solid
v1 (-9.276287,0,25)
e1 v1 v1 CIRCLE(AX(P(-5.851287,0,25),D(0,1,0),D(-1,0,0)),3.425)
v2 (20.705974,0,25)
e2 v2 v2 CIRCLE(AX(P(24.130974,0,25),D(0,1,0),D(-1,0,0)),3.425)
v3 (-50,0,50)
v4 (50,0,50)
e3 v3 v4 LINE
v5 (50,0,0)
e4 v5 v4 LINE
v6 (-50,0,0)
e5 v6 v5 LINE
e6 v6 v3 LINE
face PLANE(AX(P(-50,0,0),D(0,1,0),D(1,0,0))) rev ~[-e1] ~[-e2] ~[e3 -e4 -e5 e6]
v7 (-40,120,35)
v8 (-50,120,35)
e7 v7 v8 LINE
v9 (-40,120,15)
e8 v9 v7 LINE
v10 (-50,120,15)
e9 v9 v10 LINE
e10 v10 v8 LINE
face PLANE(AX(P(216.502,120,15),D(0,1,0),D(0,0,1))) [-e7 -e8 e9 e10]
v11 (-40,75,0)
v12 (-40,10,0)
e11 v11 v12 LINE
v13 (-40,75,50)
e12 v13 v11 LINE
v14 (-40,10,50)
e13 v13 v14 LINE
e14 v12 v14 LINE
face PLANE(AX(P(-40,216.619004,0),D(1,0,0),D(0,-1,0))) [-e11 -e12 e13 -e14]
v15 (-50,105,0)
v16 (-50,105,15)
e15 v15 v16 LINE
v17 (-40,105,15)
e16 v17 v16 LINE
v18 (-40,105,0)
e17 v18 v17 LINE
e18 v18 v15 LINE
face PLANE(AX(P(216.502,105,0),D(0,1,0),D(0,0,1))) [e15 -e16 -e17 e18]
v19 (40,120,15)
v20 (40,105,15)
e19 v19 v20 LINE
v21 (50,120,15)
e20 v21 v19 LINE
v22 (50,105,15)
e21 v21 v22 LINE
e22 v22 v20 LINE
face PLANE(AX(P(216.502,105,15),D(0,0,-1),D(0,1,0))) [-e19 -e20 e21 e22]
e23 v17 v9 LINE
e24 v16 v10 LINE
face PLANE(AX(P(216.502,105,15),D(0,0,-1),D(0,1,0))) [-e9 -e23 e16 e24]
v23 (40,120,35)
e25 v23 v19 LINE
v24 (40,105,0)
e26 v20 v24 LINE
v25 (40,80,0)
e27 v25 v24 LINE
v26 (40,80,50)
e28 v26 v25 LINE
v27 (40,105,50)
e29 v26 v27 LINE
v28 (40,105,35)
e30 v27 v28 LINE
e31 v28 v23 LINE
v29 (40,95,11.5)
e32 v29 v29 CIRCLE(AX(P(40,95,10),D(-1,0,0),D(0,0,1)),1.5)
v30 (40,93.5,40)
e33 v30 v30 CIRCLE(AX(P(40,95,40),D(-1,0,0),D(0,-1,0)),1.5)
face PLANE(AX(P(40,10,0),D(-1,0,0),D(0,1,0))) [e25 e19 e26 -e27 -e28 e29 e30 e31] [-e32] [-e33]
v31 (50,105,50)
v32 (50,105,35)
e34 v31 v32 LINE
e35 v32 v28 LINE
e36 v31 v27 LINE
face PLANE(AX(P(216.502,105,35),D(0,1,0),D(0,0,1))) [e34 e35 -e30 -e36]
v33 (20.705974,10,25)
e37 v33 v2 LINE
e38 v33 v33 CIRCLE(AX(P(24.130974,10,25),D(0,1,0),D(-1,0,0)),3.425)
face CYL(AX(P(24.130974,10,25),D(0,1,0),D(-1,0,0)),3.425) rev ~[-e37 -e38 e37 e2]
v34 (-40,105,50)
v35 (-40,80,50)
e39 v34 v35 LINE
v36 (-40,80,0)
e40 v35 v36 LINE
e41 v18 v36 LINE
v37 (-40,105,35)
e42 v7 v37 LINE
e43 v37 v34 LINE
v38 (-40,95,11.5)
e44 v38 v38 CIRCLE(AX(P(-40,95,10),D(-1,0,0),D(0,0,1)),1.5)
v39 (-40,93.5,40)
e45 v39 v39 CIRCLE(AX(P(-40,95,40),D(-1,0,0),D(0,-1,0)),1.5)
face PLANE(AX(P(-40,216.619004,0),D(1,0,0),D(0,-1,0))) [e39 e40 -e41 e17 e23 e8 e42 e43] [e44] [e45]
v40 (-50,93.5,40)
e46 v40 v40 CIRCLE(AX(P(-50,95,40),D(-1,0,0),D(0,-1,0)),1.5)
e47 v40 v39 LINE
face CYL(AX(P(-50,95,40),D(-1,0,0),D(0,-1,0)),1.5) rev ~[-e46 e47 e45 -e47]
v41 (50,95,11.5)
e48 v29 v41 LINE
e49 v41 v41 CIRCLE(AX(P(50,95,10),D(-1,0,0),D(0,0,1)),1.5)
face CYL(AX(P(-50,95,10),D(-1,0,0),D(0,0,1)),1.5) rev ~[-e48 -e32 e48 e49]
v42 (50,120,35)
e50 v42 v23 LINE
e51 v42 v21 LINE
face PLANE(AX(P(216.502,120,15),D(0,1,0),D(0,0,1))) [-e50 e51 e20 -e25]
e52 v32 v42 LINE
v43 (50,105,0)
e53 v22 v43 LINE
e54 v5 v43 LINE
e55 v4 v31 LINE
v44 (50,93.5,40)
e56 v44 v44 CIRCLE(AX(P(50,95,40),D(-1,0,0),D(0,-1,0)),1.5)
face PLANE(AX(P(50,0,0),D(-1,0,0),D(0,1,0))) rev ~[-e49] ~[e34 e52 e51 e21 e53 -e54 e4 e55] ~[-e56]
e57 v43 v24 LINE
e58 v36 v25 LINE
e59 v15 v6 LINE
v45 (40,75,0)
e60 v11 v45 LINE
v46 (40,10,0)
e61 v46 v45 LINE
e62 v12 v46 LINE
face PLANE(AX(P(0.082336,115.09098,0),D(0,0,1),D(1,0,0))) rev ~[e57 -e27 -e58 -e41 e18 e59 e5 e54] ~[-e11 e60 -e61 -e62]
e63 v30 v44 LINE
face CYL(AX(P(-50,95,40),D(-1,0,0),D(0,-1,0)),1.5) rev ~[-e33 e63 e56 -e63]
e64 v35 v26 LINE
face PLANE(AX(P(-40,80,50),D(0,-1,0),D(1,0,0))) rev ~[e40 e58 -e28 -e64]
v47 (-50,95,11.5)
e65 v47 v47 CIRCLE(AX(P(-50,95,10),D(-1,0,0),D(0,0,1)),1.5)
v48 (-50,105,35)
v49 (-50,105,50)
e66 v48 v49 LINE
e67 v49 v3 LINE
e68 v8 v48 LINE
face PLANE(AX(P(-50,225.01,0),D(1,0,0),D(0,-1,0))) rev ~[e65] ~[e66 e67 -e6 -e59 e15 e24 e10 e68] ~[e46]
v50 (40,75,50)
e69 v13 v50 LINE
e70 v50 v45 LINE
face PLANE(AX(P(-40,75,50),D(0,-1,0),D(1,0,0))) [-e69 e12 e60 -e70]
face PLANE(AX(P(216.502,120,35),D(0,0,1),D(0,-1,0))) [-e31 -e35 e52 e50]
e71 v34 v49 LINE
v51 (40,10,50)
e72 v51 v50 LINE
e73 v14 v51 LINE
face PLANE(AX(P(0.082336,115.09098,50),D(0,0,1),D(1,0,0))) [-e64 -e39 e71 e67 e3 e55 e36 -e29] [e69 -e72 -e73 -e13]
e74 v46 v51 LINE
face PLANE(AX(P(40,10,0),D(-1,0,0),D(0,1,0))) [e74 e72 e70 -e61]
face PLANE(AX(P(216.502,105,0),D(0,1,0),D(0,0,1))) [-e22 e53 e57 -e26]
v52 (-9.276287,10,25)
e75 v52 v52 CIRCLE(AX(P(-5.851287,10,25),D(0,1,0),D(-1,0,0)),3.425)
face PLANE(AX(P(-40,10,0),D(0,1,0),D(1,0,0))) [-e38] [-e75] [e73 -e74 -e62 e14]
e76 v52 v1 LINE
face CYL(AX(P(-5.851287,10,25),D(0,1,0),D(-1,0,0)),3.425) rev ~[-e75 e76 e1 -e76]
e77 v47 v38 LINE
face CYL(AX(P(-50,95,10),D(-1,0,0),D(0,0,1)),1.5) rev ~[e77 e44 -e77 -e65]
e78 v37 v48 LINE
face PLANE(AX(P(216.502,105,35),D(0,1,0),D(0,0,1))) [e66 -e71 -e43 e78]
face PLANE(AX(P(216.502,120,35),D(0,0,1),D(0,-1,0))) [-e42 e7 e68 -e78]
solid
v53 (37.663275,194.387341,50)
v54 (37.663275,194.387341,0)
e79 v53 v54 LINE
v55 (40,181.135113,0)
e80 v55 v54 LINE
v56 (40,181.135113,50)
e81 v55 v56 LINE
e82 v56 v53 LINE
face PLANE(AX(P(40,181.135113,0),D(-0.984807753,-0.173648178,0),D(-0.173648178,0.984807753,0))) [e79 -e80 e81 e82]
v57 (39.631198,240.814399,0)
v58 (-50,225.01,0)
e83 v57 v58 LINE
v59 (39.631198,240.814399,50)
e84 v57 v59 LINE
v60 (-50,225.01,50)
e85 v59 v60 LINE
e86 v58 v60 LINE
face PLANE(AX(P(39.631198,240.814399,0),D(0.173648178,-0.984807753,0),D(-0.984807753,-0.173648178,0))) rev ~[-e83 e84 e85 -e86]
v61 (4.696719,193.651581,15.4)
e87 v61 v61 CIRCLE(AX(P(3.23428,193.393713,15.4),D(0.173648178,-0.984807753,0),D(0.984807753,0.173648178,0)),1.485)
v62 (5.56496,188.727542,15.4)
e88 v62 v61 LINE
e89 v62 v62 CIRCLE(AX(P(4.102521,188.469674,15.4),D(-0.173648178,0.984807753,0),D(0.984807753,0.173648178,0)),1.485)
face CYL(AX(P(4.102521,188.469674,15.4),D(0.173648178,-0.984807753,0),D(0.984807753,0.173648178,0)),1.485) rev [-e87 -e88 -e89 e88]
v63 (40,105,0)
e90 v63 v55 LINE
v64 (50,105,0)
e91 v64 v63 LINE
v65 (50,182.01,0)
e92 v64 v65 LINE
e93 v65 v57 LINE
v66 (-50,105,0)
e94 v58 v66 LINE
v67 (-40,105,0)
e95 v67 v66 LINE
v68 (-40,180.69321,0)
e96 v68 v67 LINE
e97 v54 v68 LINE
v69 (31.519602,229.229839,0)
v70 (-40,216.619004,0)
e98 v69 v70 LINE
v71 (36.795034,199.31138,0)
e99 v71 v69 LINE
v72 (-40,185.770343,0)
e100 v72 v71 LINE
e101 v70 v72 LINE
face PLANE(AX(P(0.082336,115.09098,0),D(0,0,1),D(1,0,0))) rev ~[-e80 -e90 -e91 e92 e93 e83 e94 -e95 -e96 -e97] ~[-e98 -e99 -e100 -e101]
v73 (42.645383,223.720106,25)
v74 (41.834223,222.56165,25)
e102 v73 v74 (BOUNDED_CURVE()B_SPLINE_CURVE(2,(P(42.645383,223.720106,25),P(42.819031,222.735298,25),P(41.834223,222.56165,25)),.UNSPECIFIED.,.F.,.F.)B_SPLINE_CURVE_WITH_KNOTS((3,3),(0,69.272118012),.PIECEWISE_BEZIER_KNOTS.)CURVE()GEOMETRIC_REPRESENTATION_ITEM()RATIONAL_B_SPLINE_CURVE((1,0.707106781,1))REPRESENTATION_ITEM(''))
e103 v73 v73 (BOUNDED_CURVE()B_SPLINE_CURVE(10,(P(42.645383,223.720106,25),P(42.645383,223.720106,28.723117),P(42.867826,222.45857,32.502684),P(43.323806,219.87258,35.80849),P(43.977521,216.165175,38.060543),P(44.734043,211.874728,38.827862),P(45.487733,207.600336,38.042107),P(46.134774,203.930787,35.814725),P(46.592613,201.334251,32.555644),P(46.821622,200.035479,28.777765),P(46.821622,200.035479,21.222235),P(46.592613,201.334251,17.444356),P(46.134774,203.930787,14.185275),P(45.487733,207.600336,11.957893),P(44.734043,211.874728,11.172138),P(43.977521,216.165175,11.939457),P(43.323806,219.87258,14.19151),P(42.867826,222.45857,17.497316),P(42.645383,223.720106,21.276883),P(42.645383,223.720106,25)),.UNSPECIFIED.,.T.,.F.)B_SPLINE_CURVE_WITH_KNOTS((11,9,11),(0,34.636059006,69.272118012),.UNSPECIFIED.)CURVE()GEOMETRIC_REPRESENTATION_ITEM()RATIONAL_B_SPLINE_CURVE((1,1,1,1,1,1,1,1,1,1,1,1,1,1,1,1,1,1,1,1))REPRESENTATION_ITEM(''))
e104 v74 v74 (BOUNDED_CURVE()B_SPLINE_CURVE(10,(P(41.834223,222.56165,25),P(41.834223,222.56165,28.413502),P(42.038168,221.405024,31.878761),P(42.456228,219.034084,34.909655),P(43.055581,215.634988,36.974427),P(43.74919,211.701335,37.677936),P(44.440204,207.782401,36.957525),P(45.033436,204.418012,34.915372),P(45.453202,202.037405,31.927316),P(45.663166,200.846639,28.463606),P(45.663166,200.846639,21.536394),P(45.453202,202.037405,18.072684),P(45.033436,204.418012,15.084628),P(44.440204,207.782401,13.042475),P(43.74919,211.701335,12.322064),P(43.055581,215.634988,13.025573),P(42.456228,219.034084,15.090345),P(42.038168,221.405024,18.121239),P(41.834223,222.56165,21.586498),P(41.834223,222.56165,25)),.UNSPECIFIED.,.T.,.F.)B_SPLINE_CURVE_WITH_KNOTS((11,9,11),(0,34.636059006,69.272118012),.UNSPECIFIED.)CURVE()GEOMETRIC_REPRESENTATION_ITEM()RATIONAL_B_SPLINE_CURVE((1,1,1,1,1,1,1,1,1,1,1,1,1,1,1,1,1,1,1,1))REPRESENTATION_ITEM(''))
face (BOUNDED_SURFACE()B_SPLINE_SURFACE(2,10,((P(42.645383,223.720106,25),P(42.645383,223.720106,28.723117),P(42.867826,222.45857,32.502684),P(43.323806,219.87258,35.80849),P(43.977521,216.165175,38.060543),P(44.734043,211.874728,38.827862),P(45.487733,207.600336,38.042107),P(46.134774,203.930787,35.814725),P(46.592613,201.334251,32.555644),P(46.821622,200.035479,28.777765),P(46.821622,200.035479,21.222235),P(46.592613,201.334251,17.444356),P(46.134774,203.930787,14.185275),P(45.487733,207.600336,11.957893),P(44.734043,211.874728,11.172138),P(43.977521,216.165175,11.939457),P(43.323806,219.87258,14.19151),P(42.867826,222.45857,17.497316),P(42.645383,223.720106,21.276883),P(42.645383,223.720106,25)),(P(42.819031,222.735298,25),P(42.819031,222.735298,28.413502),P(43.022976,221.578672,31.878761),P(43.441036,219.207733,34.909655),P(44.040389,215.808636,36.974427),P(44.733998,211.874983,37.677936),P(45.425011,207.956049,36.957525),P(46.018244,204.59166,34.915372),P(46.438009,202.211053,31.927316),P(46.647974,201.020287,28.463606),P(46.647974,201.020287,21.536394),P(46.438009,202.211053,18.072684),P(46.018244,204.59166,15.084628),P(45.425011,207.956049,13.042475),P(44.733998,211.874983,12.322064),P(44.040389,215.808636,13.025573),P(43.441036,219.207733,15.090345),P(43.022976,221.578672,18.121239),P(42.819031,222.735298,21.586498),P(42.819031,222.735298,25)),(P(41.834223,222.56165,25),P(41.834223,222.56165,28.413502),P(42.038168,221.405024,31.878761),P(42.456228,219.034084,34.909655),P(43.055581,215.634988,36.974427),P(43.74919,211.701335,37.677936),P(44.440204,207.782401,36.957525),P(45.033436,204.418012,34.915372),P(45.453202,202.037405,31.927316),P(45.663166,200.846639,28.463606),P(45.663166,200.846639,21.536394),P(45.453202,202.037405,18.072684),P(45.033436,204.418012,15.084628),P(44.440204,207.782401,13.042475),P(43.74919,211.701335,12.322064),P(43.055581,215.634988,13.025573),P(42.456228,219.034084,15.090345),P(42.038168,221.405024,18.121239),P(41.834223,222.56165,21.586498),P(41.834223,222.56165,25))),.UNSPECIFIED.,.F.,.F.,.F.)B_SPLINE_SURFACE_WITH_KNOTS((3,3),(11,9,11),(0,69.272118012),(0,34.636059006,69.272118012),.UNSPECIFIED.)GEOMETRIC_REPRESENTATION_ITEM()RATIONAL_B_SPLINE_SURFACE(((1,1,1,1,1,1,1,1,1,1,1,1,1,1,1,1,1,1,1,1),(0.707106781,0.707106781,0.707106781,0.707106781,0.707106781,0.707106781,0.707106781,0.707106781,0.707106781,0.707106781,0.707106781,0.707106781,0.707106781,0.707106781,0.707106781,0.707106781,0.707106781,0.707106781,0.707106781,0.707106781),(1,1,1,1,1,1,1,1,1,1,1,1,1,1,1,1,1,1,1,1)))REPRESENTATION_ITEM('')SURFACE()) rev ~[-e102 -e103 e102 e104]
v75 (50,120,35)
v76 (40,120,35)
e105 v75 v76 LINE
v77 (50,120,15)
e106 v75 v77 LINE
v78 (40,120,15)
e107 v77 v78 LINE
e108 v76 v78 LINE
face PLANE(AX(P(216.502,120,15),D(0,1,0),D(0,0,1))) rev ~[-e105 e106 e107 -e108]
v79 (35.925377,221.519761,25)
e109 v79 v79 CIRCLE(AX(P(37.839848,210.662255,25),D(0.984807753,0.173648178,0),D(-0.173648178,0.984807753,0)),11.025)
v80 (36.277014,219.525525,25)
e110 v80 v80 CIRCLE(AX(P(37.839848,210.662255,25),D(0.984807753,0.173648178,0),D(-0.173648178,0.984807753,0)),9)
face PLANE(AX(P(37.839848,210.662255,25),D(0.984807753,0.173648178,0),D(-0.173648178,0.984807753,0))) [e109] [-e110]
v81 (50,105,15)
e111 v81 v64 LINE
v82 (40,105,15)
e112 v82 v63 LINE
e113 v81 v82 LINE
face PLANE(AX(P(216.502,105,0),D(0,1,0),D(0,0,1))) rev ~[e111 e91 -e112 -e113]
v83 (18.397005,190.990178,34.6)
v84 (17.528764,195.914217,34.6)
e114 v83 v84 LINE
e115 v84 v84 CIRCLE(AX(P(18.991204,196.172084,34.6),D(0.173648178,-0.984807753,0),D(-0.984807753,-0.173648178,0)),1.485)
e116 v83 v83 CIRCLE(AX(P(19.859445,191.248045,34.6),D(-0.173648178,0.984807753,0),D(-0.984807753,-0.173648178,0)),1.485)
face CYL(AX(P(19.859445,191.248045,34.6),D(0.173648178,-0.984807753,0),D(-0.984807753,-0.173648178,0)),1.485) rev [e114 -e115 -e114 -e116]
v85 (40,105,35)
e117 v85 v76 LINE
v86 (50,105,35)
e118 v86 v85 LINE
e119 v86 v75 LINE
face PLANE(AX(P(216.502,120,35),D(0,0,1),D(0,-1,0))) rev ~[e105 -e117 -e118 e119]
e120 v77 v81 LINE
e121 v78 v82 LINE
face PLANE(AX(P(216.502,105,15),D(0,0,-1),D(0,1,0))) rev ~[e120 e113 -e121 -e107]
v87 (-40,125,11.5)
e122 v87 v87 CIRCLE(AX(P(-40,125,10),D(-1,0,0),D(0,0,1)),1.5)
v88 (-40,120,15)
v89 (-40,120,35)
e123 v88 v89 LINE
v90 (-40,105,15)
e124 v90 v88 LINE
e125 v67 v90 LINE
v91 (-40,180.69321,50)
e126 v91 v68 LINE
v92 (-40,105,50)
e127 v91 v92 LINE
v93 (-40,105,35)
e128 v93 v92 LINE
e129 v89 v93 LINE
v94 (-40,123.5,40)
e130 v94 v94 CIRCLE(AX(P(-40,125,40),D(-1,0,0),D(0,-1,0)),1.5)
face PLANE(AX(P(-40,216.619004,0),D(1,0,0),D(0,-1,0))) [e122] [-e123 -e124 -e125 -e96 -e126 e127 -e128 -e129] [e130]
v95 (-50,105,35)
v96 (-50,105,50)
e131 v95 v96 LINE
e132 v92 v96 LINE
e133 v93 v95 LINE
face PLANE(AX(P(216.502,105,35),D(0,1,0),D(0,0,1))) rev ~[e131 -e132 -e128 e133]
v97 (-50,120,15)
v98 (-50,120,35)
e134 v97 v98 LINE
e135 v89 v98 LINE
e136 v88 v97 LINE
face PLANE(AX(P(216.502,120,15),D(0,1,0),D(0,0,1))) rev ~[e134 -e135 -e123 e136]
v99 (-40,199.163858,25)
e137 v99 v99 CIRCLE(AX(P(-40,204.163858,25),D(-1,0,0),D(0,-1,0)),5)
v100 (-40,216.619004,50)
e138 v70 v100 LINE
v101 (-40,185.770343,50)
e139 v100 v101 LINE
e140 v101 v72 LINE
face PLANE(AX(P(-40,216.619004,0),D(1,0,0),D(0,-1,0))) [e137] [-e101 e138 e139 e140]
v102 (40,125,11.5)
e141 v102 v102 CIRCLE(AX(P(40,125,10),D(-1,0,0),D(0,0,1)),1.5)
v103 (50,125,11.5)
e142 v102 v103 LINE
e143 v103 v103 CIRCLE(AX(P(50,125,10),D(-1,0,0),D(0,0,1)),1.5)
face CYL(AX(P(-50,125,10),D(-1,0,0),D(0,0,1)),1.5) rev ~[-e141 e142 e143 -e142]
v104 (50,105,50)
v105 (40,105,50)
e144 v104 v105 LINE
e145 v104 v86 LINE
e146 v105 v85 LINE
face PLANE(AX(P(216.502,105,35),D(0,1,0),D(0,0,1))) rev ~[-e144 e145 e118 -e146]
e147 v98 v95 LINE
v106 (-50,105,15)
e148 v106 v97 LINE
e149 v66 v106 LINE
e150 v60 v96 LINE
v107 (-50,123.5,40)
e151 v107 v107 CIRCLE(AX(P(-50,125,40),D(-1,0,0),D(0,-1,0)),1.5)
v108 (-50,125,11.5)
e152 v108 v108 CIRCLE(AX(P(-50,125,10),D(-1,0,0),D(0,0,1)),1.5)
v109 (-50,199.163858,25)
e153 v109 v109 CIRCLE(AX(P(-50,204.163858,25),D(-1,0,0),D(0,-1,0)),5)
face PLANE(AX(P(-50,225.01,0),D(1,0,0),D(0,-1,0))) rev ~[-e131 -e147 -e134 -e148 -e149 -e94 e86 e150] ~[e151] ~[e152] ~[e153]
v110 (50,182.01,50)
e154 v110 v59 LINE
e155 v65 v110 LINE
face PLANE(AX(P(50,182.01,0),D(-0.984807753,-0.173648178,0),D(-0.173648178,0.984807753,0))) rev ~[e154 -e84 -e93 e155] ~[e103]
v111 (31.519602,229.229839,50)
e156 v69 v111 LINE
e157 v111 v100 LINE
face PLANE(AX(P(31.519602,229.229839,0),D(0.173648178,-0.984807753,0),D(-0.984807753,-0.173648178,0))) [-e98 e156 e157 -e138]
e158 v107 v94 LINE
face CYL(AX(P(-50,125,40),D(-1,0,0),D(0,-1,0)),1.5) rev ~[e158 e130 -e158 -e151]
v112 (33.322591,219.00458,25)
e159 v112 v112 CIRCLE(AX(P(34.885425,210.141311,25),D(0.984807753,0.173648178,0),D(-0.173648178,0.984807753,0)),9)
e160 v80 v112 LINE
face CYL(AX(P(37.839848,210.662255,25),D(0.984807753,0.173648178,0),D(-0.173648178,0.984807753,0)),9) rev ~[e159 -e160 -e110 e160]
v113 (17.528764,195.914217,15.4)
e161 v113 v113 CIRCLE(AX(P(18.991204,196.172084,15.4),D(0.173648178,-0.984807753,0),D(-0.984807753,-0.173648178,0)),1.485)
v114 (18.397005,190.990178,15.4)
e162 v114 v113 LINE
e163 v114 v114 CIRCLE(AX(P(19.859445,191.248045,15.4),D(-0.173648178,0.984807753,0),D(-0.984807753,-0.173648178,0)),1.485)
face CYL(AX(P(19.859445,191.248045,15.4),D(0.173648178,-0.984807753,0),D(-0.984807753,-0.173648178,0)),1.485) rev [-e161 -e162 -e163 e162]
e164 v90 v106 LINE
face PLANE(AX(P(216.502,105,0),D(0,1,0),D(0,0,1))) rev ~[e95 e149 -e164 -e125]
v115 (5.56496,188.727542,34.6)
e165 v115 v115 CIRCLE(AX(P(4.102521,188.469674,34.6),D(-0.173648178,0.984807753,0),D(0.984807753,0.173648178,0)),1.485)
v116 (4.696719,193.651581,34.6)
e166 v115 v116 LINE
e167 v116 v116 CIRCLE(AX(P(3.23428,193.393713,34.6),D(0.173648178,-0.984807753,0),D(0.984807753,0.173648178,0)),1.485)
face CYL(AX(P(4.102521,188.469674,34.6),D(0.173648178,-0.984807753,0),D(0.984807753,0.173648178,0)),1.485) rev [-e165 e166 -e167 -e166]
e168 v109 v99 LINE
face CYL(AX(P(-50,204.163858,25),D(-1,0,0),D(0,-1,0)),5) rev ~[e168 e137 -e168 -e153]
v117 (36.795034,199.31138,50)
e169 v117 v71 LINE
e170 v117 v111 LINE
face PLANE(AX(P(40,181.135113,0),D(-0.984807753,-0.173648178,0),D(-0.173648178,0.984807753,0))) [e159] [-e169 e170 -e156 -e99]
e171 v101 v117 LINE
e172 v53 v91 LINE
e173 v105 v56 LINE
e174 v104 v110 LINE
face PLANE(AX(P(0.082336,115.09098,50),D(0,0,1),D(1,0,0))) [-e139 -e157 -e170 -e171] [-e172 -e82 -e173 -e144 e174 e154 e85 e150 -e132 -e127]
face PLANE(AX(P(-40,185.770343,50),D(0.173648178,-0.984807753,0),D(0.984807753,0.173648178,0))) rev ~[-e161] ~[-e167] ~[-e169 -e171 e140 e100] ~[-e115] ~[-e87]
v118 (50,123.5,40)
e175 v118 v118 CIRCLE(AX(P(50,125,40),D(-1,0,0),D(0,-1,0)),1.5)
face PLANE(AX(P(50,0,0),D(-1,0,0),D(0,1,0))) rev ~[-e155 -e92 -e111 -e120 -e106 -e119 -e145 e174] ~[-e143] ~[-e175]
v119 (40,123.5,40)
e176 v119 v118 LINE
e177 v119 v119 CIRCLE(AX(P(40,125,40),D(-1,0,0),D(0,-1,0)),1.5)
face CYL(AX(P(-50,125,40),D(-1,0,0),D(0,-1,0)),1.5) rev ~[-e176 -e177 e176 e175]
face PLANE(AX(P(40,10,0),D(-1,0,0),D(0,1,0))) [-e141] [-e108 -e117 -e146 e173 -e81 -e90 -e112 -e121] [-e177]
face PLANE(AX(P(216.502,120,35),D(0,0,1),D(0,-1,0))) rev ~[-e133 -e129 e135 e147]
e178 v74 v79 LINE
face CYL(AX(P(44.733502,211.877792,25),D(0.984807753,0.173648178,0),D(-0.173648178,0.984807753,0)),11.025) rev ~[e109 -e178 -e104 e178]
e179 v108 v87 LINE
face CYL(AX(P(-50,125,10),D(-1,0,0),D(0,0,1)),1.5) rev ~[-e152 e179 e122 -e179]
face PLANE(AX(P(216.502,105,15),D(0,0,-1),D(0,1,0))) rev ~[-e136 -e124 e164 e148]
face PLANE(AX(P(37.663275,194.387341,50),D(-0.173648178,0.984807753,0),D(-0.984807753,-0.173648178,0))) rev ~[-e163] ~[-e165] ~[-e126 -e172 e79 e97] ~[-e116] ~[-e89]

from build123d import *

# Parameters (mm, degrees)
BOSS_EXTRUDE1_DEPTH    = 50
SKETCH4_R              = 11.025
CUT_EXTRUDE1_DEPTH     = 7
SKETCH5_R              = 9
CUT_EXTRUDE2_DEPTH     = 7
BOSS_EXTRUDE2_DEPTH    = 50
SKETCH8_R              = 5
CUT_EXTRUDE3_DEPTH     = 10
CUT_EXTRUDE4_REACH     = 278.388
SKETCH9_R              = 1.485
SKETCH10_R             = 3.425
CUT_EXTRUDE5_DEPTH     = 10
SKETCH11_W             = 80
SKETCH11_H             = 5
BOSS_EXTRUDE3_DEPTH    = 50
FILLET1_R              = 1
SKETCH14_R             = 1.5
CUT_EXTRUDE6_DEPTH     = 266.502494397
SPLIT1_SURFACE_1_BACK  = 266.502
SPLIT1_SURFACE_1_DEPTH = 533.004
SPLIT1_SURFACE_2_BACK  = 266.502
SPLIT1_SURFACE_2_DEPTH = 533.004


with BuildPart() as part:
    # Sketch2 → Boss-Extrude1 (new body)
    with BuildSketch(Plane.XY):
        Polygon((-50, 225.01), (-50, 0), (50, 0), (50, 182.01), (39.631197958, 240.814398513), align=None)
        Polygon((-40, 216.619003688), (-40, 10), (40, 10), (40, 181.135113365), (31.519602204, 229.229839206), align=None, mode=Mode.SUBTRACT)
    extrude(amount=BOSS_EXTRUDE1_DEPTH)

    # Sketch4 → Cut-Extrude1 (cut)
    with BuildSketch(Plane(origin=(79.617858663, 14.038776629, 0), x_dir=(0, 0, -1), z_dir=(0.9848077530122079, 0.17364817766693136, 0))):
        with Locations(Location((-25, 200.891001389, 0), (0, 0, 90))):
            Circle(SKETCH4_R)
    extrude(amount=-CUT_EXTRUDE1_DEPTH, mode=Mode.SUBTRACT)

    # Sketch5 → Cut-Extrude2 (cut)
    with BuildSketch(Plane(origin=(72.724204392, 12.823239385, 0), x_dir=(0, 0, -1), z_dir=(0.9848077530122079, 0.17364817766693136, 0))):
        with Locations(Location((-25, 200.891001389, 0), (0, 0, 90))):
            Circle(SKETCH5_R)
    extrude(amount=-CUT_EXTRUDE2_DEPTH, mode=Mode.SUBTRACT)

    # Sketch7 → Boss-Extrude2 (add)
    with BuildSketch(Plane.XY.offset(50)):
        Polygon((36.795033842, 199.31137967), (37.66327473, 194.387340905), (-40, 180.69321016), (-40, 185.770343219), align=None)
    extrude(amount=-BOSS_EXTRUDE2_DEPTH)

    # Sketch8 → Cut-Extrude3 (cut)
    with BuildSketch(Plane.ZY.offset(50)):
        with Locations(Location((25, 204.163858422, 0), (0, 0, 270))):
            Circle(SKETCH8_R)
    extrude(amount=-CUT_EXTRUDE3_DEPTH, mode=Mode.SUBTRACT)

    # Sketch9 → Cut-Extrude4 (cut, up to next)
    with BuildSketch(Plane(origin=(123.233920299, 209.475754475, 0), x_dir=(-0.9848077530122079, -0.17364817766693152, 0), z_dir=(-0.17364817766693152, 0.9848077530122079, 0)), mode=Mode.PRIVATE) as cut_extrude4_sk1:
        with Locations((104.969193438, 15.4)):
            Circle(SKETCH9_R)
    cut_extrude4_tool1 = extrude(cut_extrude4_sk1.sketch, amount=CUT_EXTRUDE4_REACH, mode=Mode.PRIVATE) & part.part
    # Sketch9 → Cut-Extrude4 (cut, up to next)
    with BuildSketch(Plane(origin=(123.233920299, 209.475754475, 0), x_dir=(-0.9848077530122079, -0.17364817766693152, 0), z_dir=(-0.17364817766693152, 0.9848077530122079, 0)), mode=Mode.PRIVATE) as cut_extrude4_sk2:
        with Locations((104.969193438, 34.6)):
            Circle(SKETCH9_R)
    cut_extrude4_tool2 = extrude(cut_extrude4_sk2.sketch, amount=CUT_EXTRUDE4_REACH, mode=Mode.PRIVATE) & part.part
    # Sketch9 → Cut-Extrude4 (cut, up to next)
    with BuildSketch(Plane(origin=(123.233920299, 209.475754475, 0), x_dir=(-0.9848077530122079, -0.17364817766693152, 0), z_dir=(-0.17364817766693152, 0.9848077530122079, 0)), mode=Mode.PRIVATE) as cut_extrude4_sk3:
        with Locations(Location((120.969193438, 34.6, 0), (0, 0, 180))):
            Circle(SKETCH9_R)
    cut_extrude4_tool3 = extrude(cut_extrude4_sk3.sketch, amount=CUT_EXTRUDE4_REACH, mode=Mode.PRIVATE) & part.part
    # Sketch9 → Cut-Extrude4 (cut, up to next)
    with BuildSketch(Plane(origin=(123.233920299, 209.475754475, 0), x_dir=(-0.9848077530122079, -0.17364817766693152, 0), z_dir=(-0.17364817766693152, 0.9848077530122079, 0)), mode=Mode.PRIVATE) as cut_extrude4_sk4:
        with Locations(Location((120.969193438, 15.4, 0), (0, 0, 180))):
            Circle(SKETCH9_R)
    cut_extrude4_tool4 = extrude(cut_extrude4_sk4.sketch, amount=CUT_EXTRUDE4_REACH, mode=Mode.PRIVATE) & part.part
    add(cut_extrude4_tool1.solids().sort_by_distance((19.859445, 191.248045, 15.4))[0], mode=Mode.SUBTRACT)
    add(cut_extrude4_tool2.solids().sort_by_distance((19.859445, 191.248045, 34.6))[0], mode=Mode.SUBTRACT)
    add(cut_extrude4_tool3.solids().sort_by_distance((4.102521, 188.469674, 34.6))[0], mode=Mode.SUBTRACT)
    add(cut_extrude4_tool4.solids().sort_by_distance((4.102521, 188.469674, 15.4))[0], mode=Mode.SUBTRACT)

    # Sketch10 → Cut-Extrude5 (cut)
    with BuildSketch(Plane(origin=(0, 10, 0), x_dir=(1, 0, 0), z_dir=(0, 1, 0))):
        with Locations(Location((-5.851287133, -25, 0), (0, 0, 180))):
            Circle(SKETCH10_R)
        with Locations(Location((24.130974018, -25, 0), (0, 0, 180))):
            Circle(SKETCH10_R)
    extrude(amount=-CUT_EXTRUDE5_DEPTH, mode=Mode.SUBTRACT)

    # Sketch11 → Boss-Extrude3 (add)
    with BuildSketch(Plane.XY.offset(50)):
        with Locations((0, 77.5)):
            Rectangle(SKETCH11_W, SKETCH11_H)
    extrude(amount=-BOSS_EXTRUDE3_DEPTH)

    # Fillet1
    fillet1_edges = [part.edges().sort_by_distance(p)[0] for p in [
        (46.647973521, 201.020286829, 25),
    ]]
    fillet(fillet1_edges, radius=FILLET1_R)

    # Sketch14 → Cut-Extrude6 (cut, through all)
    with BuildSketch(Plane.ZY.offset(50)):
        with Locations(Location((40, 125, 0), (0, 0, 270))):
            Circle(SKETCH14_R)
        with Locations(Location((40, 95, 0), (0, 0, 270))):
            Circle(SKETCH14_R)
        with Locations((10, 95)):
            Circle(SKETCH14_R)
        with Locations((10, 125)):
            Circle(SKETCH14_R)
    extrude(amount=-CUT_EXTRUDE6_DEPTH, mode=Mode.SUBTRACT)


with BuildPart() as body_2:
    # Split1: the piece behind the surface
    add(part.part)
    # Split1 surface: a surface, the sketch's curves swept straight by 533.004 mm
    with BuildLine(Plane.ZY.offset(50).offset(-SPLIT1_SURFACE_1_BACK), mode=Mode.PRIVATE) as split1_surface_1_path:
        Line((0, 105), (15, 105))
        Line((15, 105), (15, 120))
        Line((15, 120), (35, 120))
        Line((35, 120), (35, 105))
        Line((35, 105), (50, 105))
    split1_surface_1 = Shell.extrude(split1_surface_1_path.wire(), (-1 * SPLIT1_SURFACE_1_DEPTH, 0 * SPLIT1_SURFACE_1_DEPTH, 0 * SPLIT1_SURFACE_1_DEPTH))
    split(bisect_by=split1_surface_1, keep=Keep.BOTTOM)


with BuildPart() as part_1:
    add(part.part)

    # Split1: split by a surface, the side it looks to stays
    # Split1 surface: a surface, the sketch's curves swept straight by 533.004 mm
    with BuildLine(Plane.ZY.offset(50).offset(-SPLIT1_SURFACE_2_BACK), mode=Mode.PRIVATE) as split1_surface_2_path:
        Line((0, 105), (15, 105))
        Line((15, 105), (15, 120))
        Line((15, 120), (35, 120))
        Line((35, 120), (35, 105))
        Line((35, 105), (50, 105))
    split1_surface_2 = Shell.extrude(split1_surface_2_path.wire(), (-1 * SPLIT1_SURFACE_2_DEPTH, 0 * SPLIT1_SURFACE_2_DEPTH, 0 * SPLIT1_SURFACE_2_DEPTH))
    split(bisect_by=split1_surface_2, keep=Keep.TOP)


solid = Compound([body_2.part, part_1.part])
